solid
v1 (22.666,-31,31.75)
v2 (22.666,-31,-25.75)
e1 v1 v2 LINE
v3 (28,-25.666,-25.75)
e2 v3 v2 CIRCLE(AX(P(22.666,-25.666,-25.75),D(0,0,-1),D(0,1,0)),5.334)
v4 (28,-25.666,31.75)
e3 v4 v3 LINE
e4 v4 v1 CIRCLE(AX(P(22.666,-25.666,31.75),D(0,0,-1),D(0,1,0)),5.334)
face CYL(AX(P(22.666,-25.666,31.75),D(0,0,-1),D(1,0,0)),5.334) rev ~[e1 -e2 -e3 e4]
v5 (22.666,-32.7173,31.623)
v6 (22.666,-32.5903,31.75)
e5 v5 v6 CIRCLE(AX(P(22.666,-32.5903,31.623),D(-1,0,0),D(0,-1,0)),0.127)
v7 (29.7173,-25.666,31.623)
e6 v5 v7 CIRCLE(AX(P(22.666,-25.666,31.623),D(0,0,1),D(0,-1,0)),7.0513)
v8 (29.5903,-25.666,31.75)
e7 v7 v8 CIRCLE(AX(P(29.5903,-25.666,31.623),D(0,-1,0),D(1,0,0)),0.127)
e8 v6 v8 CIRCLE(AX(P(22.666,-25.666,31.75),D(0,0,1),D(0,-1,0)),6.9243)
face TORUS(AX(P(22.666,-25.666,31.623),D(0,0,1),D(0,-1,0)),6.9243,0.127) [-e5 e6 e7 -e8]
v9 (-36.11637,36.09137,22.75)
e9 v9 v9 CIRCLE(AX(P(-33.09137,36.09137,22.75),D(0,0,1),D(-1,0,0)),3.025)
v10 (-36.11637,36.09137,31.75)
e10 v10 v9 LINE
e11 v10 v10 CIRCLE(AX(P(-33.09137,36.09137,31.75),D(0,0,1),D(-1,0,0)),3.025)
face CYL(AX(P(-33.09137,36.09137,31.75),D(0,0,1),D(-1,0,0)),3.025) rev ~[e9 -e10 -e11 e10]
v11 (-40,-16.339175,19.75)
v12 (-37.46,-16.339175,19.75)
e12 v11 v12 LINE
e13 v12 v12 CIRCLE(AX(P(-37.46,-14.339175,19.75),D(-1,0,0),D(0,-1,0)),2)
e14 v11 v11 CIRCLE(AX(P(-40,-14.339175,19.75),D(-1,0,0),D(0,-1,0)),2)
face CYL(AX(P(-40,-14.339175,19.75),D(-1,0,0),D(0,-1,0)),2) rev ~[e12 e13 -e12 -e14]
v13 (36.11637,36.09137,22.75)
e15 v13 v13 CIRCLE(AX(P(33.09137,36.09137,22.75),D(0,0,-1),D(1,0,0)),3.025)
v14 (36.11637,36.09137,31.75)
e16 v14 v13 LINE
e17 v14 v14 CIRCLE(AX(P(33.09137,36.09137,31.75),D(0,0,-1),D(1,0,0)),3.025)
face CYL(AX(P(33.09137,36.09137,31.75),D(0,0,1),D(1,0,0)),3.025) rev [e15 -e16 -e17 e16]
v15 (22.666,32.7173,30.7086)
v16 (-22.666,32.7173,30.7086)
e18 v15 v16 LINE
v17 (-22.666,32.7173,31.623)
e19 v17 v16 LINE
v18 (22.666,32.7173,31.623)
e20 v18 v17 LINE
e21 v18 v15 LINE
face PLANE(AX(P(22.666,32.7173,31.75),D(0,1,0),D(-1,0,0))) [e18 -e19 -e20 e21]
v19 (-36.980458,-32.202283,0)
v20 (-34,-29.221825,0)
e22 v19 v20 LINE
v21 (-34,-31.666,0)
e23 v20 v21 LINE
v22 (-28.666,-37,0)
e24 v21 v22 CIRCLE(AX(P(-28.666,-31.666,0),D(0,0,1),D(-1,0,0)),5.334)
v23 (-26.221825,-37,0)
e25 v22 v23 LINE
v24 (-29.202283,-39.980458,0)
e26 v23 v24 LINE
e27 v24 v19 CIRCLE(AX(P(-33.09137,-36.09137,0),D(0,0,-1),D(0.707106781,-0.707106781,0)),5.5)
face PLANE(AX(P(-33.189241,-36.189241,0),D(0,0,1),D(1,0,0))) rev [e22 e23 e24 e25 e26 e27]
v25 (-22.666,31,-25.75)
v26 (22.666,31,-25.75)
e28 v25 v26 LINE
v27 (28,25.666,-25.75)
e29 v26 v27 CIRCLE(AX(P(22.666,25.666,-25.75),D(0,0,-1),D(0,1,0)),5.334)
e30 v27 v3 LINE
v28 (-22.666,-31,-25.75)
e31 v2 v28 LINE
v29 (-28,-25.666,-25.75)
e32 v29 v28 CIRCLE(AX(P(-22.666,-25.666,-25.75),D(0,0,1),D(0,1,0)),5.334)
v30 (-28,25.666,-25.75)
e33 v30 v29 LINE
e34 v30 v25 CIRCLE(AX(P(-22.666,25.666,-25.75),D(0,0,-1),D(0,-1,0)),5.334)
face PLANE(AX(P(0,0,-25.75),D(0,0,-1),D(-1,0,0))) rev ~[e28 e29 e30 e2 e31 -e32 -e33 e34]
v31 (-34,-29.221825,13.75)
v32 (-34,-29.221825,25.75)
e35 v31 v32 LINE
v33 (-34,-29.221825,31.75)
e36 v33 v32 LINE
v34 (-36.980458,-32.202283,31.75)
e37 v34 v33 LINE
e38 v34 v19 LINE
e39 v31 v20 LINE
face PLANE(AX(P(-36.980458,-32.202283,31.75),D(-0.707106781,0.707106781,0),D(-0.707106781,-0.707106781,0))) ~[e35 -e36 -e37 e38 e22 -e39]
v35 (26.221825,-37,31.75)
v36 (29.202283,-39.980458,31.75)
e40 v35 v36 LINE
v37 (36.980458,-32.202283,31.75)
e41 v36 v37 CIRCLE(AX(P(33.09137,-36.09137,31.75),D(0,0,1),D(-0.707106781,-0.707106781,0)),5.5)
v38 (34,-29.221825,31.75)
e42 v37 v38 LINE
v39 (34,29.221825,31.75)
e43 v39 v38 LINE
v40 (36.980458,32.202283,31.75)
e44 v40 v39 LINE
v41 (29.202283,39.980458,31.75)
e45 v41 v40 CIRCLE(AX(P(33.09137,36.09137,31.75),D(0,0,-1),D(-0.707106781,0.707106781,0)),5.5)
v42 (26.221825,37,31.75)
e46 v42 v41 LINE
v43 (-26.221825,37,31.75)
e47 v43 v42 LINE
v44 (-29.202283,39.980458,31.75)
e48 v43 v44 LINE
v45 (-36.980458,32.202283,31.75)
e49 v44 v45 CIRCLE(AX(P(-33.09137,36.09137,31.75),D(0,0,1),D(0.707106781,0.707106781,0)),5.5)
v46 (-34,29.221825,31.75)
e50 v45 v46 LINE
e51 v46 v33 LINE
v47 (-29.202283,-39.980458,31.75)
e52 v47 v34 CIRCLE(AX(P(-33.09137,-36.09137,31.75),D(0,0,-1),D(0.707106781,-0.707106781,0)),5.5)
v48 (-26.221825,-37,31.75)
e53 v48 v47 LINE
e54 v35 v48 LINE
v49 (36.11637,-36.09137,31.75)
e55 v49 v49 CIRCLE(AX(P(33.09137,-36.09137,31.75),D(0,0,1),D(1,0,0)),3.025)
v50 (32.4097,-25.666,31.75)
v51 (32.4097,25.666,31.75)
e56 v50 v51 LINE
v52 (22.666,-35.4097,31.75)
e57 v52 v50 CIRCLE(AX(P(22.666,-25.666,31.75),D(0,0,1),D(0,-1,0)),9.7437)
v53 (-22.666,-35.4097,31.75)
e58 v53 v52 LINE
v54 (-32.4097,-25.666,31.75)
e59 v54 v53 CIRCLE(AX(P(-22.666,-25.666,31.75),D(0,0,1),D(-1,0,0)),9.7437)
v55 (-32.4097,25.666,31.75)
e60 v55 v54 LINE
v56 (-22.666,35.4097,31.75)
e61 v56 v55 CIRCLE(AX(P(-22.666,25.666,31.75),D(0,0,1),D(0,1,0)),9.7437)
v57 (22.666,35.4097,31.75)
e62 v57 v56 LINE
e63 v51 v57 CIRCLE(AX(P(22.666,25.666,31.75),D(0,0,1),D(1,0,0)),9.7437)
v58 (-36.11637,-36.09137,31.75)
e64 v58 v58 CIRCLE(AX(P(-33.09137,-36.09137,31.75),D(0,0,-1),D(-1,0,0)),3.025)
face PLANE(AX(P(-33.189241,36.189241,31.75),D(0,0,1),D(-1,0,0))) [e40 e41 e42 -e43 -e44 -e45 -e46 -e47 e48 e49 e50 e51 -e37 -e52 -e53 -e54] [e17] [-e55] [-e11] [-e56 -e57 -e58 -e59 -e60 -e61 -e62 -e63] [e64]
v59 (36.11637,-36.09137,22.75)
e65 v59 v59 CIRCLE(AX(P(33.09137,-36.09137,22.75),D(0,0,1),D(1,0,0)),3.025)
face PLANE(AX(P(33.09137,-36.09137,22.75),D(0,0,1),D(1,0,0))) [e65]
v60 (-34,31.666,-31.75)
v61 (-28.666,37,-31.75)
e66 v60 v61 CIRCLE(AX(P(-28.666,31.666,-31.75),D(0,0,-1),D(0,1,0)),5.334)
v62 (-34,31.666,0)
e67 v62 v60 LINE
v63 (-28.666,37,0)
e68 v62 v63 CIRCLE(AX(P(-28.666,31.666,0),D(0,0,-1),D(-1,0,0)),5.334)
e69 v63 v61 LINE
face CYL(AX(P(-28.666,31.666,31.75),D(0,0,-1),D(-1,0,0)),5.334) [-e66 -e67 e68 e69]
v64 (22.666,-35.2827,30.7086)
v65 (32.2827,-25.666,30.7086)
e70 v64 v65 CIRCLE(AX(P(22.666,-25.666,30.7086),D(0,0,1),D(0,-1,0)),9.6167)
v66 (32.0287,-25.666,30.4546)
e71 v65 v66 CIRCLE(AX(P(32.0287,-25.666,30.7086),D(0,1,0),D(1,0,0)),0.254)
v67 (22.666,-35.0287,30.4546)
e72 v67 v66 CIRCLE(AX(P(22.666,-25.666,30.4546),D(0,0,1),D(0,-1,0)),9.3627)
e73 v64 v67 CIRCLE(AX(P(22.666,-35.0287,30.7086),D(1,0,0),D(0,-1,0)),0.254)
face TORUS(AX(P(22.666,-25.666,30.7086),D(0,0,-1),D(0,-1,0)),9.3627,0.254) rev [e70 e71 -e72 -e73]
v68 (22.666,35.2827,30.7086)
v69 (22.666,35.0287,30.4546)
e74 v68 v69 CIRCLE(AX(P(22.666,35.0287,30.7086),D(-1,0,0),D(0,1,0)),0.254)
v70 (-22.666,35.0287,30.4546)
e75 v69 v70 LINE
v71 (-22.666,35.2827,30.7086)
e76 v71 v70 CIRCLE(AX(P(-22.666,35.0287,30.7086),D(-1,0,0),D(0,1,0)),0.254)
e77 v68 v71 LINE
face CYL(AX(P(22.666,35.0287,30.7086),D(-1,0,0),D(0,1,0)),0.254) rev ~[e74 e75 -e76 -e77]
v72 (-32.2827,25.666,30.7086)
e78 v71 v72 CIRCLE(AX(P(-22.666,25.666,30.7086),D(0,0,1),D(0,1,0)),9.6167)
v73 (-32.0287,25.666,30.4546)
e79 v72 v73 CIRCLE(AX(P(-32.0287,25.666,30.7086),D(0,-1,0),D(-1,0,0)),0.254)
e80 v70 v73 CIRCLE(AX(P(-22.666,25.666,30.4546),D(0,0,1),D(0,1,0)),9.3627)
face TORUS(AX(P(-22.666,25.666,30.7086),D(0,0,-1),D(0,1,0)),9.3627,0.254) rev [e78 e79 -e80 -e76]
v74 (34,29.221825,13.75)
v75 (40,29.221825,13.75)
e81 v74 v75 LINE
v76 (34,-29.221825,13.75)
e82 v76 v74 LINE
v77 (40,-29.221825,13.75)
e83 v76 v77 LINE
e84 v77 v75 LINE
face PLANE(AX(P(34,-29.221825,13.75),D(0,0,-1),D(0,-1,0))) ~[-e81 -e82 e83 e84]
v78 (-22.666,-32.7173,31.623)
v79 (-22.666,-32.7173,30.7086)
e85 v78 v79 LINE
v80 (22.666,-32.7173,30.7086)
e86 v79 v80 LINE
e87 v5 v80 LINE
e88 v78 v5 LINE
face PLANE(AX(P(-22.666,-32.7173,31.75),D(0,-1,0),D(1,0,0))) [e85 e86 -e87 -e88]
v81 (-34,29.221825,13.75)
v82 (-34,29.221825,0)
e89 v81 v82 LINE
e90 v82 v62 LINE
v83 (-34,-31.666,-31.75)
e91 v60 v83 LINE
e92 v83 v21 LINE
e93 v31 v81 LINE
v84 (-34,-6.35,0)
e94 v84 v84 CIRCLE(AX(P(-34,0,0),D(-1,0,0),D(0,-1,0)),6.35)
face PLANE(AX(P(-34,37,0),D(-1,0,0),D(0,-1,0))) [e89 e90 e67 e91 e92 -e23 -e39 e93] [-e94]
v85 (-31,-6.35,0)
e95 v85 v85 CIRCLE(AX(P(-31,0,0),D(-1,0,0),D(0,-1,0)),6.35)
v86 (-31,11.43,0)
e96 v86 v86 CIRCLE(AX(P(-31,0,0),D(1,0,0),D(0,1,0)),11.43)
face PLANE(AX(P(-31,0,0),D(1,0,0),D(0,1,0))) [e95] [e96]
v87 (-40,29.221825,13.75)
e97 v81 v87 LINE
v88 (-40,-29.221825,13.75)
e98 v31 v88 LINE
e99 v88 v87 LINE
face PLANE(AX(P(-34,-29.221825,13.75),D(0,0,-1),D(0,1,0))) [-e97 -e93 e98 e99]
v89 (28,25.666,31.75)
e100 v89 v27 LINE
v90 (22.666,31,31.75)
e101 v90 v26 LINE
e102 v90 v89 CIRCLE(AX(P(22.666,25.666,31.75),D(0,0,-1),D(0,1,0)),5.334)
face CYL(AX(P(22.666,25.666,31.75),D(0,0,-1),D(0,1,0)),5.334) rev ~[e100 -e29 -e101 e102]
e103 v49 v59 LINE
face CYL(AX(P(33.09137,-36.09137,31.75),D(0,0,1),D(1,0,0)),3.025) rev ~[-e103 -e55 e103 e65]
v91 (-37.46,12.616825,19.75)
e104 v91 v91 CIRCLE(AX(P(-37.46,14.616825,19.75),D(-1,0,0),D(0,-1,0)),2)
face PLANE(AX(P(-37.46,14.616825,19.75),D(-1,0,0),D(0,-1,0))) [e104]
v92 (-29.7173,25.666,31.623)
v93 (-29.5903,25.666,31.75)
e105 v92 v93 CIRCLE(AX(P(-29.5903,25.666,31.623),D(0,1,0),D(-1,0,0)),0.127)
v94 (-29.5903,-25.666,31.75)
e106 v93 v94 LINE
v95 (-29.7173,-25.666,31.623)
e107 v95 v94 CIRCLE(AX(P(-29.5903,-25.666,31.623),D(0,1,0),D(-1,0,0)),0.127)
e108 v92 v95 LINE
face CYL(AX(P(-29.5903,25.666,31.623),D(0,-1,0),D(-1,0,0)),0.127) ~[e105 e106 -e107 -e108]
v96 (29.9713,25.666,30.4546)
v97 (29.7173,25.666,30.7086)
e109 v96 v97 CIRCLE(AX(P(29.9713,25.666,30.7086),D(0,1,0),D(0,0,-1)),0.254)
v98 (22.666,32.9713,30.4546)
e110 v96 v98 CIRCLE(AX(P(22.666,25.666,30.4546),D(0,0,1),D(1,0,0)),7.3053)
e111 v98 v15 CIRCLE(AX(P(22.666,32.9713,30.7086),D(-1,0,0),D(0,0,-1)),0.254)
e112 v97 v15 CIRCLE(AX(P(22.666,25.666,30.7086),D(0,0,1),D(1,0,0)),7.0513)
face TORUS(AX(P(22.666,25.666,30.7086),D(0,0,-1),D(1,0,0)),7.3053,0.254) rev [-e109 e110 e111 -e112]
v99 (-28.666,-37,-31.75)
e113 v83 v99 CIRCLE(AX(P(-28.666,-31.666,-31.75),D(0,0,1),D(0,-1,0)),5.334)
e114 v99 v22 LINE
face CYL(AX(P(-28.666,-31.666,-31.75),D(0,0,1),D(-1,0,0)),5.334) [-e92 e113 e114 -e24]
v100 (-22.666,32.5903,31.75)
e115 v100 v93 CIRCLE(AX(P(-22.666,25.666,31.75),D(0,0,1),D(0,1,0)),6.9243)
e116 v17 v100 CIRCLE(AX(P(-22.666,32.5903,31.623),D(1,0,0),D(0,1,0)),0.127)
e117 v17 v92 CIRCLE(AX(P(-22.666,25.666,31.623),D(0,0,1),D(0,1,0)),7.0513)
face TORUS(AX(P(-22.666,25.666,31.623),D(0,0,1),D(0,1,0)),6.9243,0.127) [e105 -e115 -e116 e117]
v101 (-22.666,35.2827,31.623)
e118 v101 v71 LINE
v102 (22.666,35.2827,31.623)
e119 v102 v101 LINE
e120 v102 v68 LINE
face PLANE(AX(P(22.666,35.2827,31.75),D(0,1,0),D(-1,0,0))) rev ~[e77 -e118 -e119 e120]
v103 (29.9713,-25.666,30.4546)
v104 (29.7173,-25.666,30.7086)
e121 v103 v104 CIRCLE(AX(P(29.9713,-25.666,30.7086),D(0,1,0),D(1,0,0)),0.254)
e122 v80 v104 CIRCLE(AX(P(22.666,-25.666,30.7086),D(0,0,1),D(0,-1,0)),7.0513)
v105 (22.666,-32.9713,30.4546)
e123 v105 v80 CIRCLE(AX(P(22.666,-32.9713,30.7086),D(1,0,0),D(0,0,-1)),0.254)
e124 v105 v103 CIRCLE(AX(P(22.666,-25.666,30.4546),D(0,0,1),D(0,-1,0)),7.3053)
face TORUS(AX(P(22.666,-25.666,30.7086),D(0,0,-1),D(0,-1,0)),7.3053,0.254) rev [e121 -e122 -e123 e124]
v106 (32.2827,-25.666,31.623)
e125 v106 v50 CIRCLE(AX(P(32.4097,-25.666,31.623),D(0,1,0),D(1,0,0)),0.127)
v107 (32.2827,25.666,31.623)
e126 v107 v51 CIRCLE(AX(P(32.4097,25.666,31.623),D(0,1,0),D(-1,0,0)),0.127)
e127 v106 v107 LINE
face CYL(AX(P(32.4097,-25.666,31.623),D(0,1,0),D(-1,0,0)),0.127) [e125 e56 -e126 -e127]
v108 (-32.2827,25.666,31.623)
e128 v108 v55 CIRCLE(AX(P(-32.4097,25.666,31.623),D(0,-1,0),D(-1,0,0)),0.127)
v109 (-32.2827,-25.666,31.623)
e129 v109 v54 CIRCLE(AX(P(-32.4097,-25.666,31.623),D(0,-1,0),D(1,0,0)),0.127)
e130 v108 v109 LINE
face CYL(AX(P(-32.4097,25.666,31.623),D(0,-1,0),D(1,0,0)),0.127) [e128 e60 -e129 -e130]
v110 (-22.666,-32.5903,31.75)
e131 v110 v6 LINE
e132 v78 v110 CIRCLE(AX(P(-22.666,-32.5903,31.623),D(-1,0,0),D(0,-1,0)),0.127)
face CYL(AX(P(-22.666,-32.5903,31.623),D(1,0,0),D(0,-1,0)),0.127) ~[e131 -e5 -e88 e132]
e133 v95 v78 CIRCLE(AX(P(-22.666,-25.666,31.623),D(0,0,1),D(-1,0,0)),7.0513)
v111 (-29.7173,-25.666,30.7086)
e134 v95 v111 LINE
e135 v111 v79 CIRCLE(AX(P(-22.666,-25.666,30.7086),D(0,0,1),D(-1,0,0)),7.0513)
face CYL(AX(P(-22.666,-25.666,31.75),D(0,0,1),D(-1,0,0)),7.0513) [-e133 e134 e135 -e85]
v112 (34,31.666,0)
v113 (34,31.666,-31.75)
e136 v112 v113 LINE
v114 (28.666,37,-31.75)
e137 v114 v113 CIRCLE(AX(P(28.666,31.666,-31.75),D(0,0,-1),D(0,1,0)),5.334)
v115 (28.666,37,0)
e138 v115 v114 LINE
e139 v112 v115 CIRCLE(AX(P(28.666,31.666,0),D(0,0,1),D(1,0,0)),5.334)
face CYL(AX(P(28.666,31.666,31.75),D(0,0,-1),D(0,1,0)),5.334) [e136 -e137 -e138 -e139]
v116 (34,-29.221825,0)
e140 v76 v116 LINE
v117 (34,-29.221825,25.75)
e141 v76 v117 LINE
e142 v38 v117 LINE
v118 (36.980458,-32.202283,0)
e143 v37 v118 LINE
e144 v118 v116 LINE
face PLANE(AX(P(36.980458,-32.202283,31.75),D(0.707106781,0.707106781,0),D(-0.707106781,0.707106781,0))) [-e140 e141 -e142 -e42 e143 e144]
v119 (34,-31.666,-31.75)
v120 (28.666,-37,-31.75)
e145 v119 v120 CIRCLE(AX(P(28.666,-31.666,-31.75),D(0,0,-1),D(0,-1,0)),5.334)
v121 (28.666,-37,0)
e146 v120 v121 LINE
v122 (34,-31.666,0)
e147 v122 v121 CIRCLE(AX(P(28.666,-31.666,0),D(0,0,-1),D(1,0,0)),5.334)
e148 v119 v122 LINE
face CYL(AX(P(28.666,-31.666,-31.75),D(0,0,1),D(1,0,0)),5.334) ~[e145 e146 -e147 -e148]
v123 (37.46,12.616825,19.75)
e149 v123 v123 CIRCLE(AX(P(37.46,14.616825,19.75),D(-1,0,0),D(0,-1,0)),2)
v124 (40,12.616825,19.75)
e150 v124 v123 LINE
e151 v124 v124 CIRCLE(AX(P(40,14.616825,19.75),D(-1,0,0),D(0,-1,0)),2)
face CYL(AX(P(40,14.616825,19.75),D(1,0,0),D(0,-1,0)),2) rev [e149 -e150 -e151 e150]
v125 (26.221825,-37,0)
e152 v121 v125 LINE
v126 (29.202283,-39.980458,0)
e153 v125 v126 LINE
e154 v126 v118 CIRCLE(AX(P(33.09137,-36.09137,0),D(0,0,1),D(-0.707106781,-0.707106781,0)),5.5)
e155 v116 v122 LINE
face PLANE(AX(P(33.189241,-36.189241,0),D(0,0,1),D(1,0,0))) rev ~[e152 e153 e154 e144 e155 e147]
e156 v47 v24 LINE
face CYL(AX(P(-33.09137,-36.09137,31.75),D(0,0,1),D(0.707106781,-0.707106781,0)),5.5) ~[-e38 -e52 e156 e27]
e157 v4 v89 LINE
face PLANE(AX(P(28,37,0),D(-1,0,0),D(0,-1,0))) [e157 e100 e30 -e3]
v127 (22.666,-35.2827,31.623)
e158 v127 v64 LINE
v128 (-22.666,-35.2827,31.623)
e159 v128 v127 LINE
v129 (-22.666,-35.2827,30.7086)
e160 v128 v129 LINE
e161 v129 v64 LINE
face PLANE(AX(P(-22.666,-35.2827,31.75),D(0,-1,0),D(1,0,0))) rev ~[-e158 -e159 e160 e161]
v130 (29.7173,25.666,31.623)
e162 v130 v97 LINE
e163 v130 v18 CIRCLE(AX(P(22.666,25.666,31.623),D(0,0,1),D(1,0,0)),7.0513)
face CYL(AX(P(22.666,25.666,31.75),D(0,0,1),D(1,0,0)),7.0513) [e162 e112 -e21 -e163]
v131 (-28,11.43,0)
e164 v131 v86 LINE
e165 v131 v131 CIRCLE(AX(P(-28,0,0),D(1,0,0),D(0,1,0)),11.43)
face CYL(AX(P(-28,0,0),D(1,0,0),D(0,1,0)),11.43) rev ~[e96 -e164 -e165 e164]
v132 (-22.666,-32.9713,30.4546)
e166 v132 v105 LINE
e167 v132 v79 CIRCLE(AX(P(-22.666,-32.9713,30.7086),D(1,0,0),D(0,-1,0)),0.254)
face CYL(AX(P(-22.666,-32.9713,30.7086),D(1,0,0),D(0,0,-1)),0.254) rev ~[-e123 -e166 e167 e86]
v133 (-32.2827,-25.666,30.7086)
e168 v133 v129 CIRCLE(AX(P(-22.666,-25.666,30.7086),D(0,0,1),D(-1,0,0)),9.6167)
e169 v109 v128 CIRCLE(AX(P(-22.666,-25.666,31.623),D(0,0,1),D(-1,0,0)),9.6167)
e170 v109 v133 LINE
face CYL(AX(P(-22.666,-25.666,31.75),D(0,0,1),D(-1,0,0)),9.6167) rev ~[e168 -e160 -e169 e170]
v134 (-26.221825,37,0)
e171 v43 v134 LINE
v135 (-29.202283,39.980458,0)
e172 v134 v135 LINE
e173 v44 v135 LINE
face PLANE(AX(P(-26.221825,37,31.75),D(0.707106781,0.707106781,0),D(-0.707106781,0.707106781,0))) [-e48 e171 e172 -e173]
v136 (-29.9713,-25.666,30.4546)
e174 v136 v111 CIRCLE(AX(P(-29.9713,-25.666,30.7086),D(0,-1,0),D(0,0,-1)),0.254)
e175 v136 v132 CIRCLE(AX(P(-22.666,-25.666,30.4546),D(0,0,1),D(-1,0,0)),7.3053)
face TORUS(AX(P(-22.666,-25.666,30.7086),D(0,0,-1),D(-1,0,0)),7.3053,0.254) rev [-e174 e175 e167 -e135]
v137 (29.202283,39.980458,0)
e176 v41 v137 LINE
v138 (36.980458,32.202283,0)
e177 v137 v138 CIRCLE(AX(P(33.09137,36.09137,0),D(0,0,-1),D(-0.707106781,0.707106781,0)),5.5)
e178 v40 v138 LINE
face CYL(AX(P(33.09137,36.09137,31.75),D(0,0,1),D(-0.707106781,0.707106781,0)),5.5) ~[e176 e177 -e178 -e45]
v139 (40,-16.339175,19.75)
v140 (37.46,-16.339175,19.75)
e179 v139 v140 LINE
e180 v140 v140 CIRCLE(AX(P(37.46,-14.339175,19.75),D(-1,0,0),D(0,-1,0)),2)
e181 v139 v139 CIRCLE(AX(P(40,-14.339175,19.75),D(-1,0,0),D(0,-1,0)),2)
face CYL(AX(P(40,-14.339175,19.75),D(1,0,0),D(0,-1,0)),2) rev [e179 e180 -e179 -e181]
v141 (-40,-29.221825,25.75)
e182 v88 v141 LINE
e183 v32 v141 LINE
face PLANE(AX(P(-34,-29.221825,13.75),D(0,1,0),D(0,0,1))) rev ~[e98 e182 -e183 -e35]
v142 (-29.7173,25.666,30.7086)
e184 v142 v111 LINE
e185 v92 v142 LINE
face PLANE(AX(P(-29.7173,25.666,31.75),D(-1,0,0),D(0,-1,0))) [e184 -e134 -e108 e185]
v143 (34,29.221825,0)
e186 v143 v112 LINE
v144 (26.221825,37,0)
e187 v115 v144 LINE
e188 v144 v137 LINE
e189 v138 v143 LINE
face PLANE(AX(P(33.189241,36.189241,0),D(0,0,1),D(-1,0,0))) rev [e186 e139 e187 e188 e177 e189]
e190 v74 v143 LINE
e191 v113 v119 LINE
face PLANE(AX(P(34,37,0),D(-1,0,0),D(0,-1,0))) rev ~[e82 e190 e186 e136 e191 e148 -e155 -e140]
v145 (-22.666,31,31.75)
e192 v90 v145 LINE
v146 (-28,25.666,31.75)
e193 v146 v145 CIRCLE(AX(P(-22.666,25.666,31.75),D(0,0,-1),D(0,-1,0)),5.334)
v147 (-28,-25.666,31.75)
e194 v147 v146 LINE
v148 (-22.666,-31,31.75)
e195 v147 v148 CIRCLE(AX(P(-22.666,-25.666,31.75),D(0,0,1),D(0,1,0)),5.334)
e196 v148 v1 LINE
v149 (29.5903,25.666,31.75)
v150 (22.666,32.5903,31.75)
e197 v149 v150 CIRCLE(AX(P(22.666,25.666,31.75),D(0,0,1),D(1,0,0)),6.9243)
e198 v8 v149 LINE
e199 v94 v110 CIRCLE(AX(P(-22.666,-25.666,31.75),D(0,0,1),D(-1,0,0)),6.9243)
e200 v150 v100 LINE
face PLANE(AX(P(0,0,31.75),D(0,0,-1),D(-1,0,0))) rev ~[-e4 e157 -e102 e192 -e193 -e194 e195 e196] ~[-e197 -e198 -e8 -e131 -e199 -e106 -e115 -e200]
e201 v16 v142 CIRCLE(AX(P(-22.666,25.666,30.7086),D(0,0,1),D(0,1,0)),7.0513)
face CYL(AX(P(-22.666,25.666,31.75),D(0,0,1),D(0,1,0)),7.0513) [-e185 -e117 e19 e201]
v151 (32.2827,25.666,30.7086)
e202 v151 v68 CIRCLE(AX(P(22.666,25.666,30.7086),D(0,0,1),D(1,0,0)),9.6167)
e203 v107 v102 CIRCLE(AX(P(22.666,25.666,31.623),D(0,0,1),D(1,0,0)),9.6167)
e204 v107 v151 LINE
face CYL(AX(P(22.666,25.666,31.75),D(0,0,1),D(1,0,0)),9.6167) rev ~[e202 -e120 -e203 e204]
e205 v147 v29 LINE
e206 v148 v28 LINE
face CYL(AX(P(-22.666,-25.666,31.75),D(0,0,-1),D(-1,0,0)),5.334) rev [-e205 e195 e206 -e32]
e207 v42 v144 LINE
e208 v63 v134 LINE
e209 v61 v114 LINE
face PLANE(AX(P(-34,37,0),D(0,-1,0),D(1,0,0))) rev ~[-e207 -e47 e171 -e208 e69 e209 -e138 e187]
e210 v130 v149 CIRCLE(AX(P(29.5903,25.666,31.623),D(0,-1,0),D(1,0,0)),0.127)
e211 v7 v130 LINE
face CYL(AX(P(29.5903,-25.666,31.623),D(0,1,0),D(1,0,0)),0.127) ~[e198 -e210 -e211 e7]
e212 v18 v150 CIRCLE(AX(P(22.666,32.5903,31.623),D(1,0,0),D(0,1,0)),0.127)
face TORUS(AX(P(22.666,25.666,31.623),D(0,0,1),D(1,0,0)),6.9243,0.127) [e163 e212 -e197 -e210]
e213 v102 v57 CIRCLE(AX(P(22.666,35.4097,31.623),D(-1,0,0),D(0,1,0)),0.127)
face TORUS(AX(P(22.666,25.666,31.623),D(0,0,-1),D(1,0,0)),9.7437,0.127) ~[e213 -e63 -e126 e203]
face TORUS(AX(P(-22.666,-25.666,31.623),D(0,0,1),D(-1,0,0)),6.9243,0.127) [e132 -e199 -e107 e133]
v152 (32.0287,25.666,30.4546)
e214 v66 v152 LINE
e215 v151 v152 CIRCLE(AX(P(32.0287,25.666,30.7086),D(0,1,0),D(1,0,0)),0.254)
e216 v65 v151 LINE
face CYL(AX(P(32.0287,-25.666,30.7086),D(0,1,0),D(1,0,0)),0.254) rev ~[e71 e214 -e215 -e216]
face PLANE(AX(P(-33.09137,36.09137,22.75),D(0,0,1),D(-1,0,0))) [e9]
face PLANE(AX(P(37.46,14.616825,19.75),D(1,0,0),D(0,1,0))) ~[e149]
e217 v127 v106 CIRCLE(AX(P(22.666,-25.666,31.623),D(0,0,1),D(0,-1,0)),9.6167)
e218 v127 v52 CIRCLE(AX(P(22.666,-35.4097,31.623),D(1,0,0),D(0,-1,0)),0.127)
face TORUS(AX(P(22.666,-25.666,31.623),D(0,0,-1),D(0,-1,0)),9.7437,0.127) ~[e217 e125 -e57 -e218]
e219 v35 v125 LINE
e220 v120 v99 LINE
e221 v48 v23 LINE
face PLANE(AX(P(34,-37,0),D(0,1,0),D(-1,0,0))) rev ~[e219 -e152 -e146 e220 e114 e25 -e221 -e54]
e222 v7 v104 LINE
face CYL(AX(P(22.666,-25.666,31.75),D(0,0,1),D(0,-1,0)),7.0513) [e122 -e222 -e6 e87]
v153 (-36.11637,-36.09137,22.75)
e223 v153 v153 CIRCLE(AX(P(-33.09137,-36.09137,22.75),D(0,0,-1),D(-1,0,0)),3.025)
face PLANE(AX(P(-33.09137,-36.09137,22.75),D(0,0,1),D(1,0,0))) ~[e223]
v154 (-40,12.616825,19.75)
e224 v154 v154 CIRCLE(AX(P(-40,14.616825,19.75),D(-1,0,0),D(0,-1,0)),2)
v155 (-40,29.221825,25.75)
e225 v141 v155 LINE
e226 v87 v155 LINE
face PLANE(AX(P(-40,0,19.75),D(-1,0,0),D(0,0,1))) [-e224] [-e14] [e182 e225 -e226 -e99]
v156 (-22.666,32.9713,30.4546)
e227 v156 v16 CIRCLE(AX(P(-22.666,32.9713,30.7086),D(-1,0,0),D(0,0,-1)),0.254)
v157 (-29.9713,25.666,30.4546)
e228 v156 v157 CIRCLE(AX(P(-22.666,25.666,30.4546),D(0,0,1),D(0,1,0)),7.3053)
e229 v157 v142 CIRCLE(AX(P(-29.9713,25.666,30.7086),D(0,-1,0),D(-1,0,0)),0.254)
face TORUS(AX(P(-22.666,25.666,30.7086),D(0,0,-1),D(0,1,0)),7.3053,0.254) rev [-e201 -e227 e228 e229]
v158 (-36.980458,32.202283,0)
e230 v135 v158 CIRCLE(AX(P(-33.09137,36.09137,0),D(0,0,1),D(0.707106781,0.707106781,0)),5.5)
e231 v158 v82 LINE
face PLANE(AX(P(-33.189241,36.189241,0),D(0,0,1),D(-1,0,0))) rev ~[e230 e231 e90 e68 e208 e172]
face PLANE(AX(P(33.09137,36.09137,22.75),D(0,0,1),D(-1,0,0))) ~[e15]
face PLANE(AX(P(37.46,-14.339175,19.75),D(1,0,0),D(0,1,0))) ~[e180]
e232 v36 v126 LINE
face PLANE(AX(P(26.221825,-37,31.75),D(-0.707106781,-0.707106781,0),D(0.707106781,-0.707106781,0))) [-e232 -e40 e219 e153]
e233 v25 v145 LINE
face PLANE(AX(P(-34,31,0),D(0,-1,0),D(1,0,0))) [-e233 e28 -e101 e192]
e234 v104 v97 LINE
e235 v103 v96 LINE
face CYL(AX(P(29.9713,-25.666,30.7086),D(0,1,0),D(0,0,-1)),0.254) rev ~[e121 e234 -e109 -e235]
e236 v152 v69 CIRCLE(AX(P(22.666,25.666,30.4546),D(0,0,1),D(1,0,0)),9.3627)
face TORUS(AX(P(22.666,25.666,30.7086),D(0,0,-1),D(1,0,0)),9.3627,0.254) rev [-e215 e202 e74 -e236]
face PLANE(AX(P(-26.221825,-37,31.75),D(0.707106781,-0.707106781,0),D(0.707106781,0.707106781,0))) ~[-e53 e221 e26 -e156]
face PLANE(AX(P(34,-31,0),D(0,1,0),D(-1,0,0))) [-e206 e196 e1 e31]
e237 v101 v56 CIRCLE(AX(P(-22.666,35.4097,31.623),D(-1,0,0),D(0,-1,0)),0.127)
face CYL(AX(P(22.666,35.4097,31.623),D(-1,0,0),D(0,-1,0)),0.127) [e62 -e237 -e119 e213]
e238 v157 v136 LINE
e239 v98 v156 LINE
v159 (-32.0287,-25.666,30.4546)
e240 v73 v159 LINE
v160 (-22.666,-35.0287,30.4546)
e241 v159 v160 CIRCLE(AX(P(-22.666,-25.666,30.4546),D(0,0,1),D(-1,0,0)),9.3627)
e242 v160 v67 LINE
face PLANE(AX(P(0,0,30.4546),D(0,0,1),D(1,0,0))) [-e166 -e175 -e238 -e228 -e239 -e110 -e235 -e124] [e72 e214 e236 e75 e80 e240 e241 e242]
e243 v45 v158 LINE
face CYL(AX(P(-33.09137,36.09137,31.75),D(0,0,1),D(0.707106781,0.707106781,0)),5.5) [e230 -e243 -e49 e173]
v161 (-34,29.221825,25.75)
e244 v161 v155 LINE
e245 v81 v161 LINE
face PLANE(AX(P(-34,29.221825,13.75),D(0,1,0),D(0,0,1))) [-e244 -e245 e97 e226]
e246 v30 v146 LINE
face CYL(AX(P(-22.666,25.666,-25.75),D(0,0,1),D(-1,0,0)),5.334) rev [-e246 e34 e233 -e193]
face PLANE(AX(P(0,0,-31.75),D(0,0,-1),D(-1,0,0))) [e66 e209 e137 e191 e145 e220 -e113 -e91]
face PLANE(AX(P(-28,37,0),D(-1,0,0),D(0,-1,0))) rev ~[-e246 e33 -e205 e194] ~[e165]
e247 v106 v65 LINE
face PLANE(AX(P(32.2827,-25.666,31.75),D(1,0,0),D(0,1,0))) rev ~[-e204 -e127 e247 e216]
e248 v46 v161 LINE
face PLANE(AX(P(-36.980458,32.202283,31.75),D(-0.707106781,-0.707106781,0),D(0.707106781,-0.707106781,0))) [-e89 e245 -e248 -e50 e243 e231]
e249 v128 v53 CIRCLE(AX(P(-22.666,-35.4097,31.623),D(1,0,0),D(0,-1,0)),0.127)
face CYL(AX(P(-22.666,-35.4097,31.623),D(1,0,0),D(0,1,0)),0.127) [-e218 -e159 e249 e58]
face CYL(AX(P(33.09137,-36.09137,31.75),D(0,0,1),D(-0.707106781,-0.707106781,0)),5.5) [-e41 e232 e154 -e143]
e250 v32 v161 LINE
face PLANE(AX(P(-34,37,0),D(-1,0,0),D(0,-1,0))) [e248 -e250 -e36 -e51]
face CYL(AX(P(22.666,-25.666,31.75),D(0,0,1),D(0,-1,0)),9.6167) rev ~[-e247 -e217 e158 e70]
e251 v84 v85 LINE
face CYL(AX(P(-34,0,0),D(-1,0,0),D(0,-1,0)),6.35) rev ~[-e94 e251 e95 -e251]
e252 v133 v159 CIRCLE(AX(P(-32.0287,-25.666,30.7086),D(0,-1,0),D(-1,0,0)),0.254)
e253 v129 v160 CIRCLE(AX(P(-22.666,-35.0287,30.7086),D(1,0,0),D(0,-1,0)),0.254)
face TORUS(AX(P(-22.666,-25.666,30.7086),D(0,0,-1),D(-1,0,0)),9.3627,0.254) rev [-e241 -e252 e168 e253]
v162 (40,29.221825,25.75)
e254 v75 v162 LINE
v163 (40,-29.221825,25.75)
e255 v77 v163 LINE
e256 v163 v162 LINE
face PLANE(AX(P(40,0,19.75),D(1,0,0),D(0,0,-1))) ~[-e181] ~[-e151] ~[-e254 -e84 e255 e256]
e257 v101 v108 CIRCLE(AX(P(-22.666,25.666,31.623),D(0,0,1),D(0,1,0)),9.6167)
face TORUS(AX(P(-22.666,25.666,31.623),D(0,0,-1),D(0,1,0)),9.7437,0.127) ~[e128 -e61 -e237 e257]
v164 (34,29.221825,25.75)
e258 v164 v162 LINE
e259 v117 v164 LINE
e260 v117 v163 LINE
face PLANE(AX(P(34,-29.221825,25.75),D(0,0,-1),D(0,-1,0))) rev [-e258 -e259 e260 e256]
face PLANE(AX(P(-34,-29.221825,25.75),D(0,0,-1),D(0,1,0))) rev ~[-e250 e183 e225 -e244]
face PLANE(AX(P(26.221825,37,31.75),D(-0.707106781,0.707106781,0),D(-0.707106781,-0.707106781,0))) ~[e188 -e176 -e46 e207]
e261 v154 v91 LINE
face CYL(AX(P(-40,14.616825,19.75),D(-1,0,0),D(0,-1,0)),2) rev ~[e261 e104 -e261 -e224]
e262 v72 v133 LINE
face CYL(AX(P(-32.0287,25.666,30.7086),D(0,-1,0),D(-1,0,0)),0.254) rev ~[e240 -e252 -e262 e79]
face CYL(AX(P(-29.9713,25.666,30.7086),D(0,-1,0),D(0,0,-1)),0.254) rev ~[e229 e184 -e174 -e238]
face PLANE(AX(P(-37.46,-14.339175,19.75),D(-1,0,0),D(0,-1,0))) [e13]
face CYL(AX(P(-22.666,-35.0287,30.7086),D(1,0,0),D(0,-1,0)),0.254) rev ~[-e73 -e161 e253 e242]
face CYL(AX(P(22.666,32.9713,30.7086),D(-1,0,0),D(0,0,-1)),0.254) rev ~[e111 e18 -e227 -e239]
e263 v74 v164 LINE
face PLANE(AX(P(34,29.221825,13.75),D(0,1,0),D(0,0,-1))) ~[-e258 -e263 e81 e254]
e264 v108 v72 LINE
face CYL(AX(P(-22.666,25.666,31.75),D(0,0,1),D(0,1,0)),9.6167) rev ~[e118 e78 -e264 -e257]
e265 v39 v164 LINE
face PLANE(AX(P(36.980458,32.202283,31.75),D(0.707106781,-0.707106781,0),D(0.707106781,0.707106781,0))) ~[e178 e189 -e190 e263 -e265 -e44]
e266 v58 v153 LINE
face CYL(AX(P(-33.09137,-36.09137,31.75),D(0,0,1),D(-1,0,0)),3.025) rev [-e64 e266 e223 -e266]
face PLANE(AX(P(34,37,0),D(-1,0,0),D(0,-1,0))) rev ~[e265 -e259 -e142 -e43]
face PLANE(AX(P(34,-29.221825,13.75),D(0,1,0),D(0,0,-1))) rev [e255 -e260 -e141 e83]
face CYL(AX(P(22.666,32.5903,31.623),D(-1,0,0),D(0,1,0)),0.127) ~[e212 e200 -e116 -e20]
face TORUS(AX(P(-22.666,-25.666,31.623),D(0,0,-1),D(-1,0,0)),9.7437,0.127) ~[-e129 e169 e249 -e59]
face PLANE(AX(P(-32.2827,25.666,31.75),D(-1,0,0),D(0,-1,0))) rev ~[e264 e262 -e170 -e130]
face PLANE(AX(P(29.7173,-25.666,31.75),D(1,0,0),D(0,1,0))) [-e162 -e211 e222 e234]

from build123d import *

# Parameters (mm, degrees)
BOSS_EXTRUDE1_DEPTH     = 31.75
SHELL1_T                = -6
FILLET1_R               = 5.334
CUT_EXTRUDE1_DEPTH      = 1.2954
FILLET2_R               = 0.254
FILLET3_R               = 0.127
BOSS_EXTRUDE2_DEPTH     = 31.75
SKETCH4_R               = 3.025
CUT_EXTRUDE2_DEPTH      = 9
MIRROR2_COPY_1_DEPTH    = 31.75
MIRROR2_COPY_2_SKETCH_R = 3.025
MIRROR2_COPY_2_DEPTH    = 9
SKETCH8_W               = 12
SKETCH8_H               = 58.443650814
BOSS_EXTRUDE3_DEPTH     = 6
SKETCH12_R              = 2
CUT_EXTRUDE6_DEPTH      = 2.54
SKETCH13_R              = 6.35
CUT_EXTRUDE10_DEPTH     = 6
SKETCH16_R              = 11.43
CUT_EXTRUDE14_DEPTH     = 3


with BuildPart() as part:
    # Sketch1 → Boss-Extrude1 (new, symmetric)
    with BuildSketch(Plane.XY):
        Polygon((-34, -37), (-34, -16.68), (-34, 16.68), (-34, 37), (34, 37), (34, -37), align=None)
    extrude(amount=BOSS_EXTRUDE1_DEPTH, both=True)

    # Shell1
    shell1_openings = [part.faces().sort_by_distance(p)[0] for p in [
        (0, 0, 31.75),
    ]]
    offset(amount=SHELL1_T, openings=shell1_openings, kind=Kind.INTERSECTION)

    # Fillet1
    fillet1_edges = [part.edges().sort_by_distance(p)[0] for p in [
        (-34, -37, 0),
        (-34, 37, 0),
        (34, 37, 0),
        (34, -37, 0),
        (-28, -31, 3),
        (28, -31, 3),
        (28, 31, 3),
        (-28, 31, 3),
    ]]
    fillet(fillet1_edges, radius=FILLET1_R)

    # Sketch2 → Cut-Extrude1 (cut)
    with BuildSketch(Plane.XY.offset(31.75)):
        with BuildLine():
            Line((32.2827, -25.666), (32.2827, 25.666))
            ThreePointArc((32.2827, 25.666), (29.466033783, 32.466033783), (22.666, 35.2827))
            Line((22.666, 35.2827), (-22.666, 35.2827))
            ThreePointArc((-22.666, 35.2827), (-29.466033783, 32.466033783), (-32.2827, 25.666))
            Line((-32.2827, 25.666), (-32.2827, -25.666))
            ThreePointArc((-32.2827, -25.666), (-29.466033783, -32.466033783), (-22.666, -35.2827))
            Line((-22.666, -35.2827), (22.666, -35.2827))
            ThreePointArc((22.666, -35.2827), (29.466033783, -32.466033783), (32.2827, -25.666))
        make_face()
        with BuildLine():
            Line((-29.7173, 25.666), (-29.7173, -25.666))
            ThreePointArc((-29.7173, -25.666), (-27.652022046, -30.652022046), (-22.666, -32.7173))
            Line((-22.666, -32.7173), (22.666, -32.7173))
            ThreePointArc((22.666, -32.7173), (27.652022046, -30.652022046), (29.7173, -25.666))
            Line((29.7173, -25.666), (29.7173, 25.666))
            ThreePointArc((29.7173, 25.666), (27.652022046, 30.652022046), (22.666, 32.7173))
            Line((22.666, 32.7173), (-22.666, 32.7173))
            ThreePointArc((-22.666, 32.7173), (-27.652022046, 30.652022046), (-29.7173, 25.666))
        make_face(mode=Mode.SUBTRACT)
    extrude(amount=-CUT_EXTRUDE1_DEPTH, mode=Mode.SUBTRACT)

    # Fillet2
    fillet2_edges = [part.edges().sort_by_distance(p)[0] for p in [
        (29.466033783, -32.466033783, 30.4546),
        (0, -35.2827, 30.4546),
        (-29.466033783, -32.466033783, 30.4546),
        (-32.2827, 0, 30.4546),
        (-29.466033783, 32.466033783, 30.4546),
        (0, 35.2827, 30.4546),
        (29.466033783, 32.466033783, 30.4546),
        (32.2827, 0, 30.4546),
        (0, 32.7173, 30.4546),
        (-27.652022046, 30.652022046, 30.4546),
        (-29.7173, 0, 30.4546),
        (-27.652022046, -30.652022046, 30.4546),
        (0, -32.7173, 30.4546),
        (27.652022046, -30.652022046, 30.4546),
        (29.7173, 0, 30.4546),
        (27.652022046, 30.652022046, 30.4546),
    ]]
    fillet(fillet2_edges, radius=FILLET2_R)

    # Fillet3
    fillet3_edges = [part.edges().sort_by_distance(p)[0] for p in [
        (29.466033783, -32.466033783, 31.75),
        (32.2827, 0, 31.75),
        (29.466033783, 32.466033783, 31.75),
        (0, 35.2827, 31.75),
        (-29.466033783, 32.466033783, 31.75),
        (-32.2827, 0, 31.75),
        (-29.466033783, -32.466033783, 31.75),
        (0, -35.2827, 31.75),
        (-27.652022046, 30.652022046, 31.75),
        (0, 32.7173, 31.75),
        (27.652022046, 30.652022046, 31.75),
        (29.7173, 0, 31.75),
        (27.652022046, -30.652022046, 31.75),
        (0, -32.7173, 31.75),
        (-27.652022046, -30.652022046, 31.75),
        (-29.7173, 0, 31.75),
    ]]
    fillet(fillet3_edges, radius=FILLET3_R)

    # Sketch3 → Boss-Extrude2 (add)
    with BuildSketch(Plane.XY.offset(31.75)):
        with BuildLine():
            Line((34, -29.221825407), (34, -31.666))
            ThreePointArc((34, -31.666), (32.437707571, -35.437707571), (28.666, -37))
            Line((28.666, -37), (26.221825407, -37))
            Line((26.221825407, -37), (29.202282953, -39.980457546))
            ThreePointArc((29.202282953, -39.980457546), (36.980457546, -39.980457546), (36.980457546, -32.202282953))
            Line((36.980457546, -32.202282953), (34, -29.221825407))
        make_face()
    boss_extrude2 = extrude(amount=-BOSS_EXTRUDE2_DEPTH)

    # Sketch4 → Cut-Extrude2 (cut)
    with BuildSketch(Plane.XY.offset(31.75)):
        with Locations((33.09137025, -36.09137025)):
            Circle(SKETCH4_R)
    cut_extrude2 = extrude(amount=-CUT_EXTRUDE2_DEPTH, mode=Mode.SUBTRACT)

    # Mirror1: Boss-Extrude2, Cut-Extrude2 across plane
    add(boss_extrude2.mirror(Plane.ZX))
    add(cut_extrude2.mirror(Plane.ZX), mode=Mode.SUBTRACT)

    # Mirror2: Boss-Extrude2, Cut-Extrude2 across plane
    add(boss_extrude2.mirror(Plane(origin=(0, 0, 0), x_dir=(0, 0, 1), z_dir=(1, 0, 0))))
    add(cut_extrude2.mirror(Plane(origin=(0, 0, 0), x_dir=(0, 0, 1), z_dir=(1, 0, 0))), mode=Mode.SUBTRACT)

    # Mirror2 copy 1 sketch → Mirror2 copy 1 (add)
    with BuildSketch(Plane(origin=(0, 0, 31.75), x_dir=(-1, 0, 0), z_dir=(0, 0, 1))):
        with BuildLine():
            Line((34, -29.221825407), (34, -31.666))
            ThreePointArc((34, -31.666), (32.437707571, -35.437707571), (28.666, -37))
            Line((28.666, -37), (26.221825407, -37))
            Line((26.221825407, -37), (29.202282953, -39.980457546))
            ThreePointArc((29.202282953, -39.980457546), (36.980457546, -39.980457546), (36.980457546, -32.202282953))
            Line((36.980457546, -32.202282953), (34, -29.221825407))
        make_face()
    extrude(amount=-MIRROR2_COPY_1_DEPTH)

    # Mirror2 copy 2 sketch → Mirror2 copy 2 (cut)
    with BuildSketch(Plane(origin=(0, 0, 31.75), x_dir=(-1, 0, 0), z_dir=(0, 0, 1))):
        with Locations((33.09137025, -36.09137025)):
            Circle(MIRROR2_COPY_2_SKETCH_R)
    extrude(amount=-MIRROR2_COPY_2_DEPTH, mode=Mode.SUBTRACT)

    # Sketch8 → Boss-Extrude3 (add)
    with BuildSketch(Plane.ZY.offset(34)):
        with Locations((19.75, 0)):
            Rectangle(SKETCH8_W, SKETCH8_H)
    boss_extrude3 = extrude(amount=BOSS_EXTRUDE3_DEPTH)

    # Sketch12 → Cut-Extrude6 (cut)
    with BuildSketch(Plane.ZY.offset(40)):
        with Locations(Location((19.75, 14.616825407, 0), (0, 0, 270))):
            Circle(SKETCH12_R)
        with Locations(Location((19.75, -14.339174593, 0), (0, 0, 270))):
            Circle(SKETCH12_R)
    cut_extrude6 = extrude(amount=-CUT_EXTRUDE6_DEPTH, mode=Mode.SUBTRACT)

    # Sketch13 → Cut-Extrude10 (cut)
    with BuildSketch(Plane.ZY.offset(34)):
        with Locations(Location((0, 0, 0), (0, 0, 270))):
            Circle(SKETCH13_R)
    extrude(amount=-CUT_EXTRUDE10_DEPTH, mode=Mode.SUBTRACT)

    # Sketch16 → Cut-Extrude14 (cut)
    with BuildSketch(Plane(origin=(-28, 0, 0), x_dir=(0, 0, -1), z_dir=(1, 0, 0))):
        with Locations(Location((0, 0, 0), (0, 0, 90))):
            Circle(SKETCH16_R)
    extrude(amount=-CUT_EXTRUDE14_DEPTH, mode=Mode.SUBTRACT)

    # Mirror5: Boss-Extrude3 across plane
    add(boss_extrude3.mirror(Plane(origin=(0, 0, 0), x_dir=(0, 0, 1), z_dir=(1, 0, 0))))

    # Mirror6: Cut-Extrude6 across plane
    add(cut_extrude6.mirror(Plane(origin=(0, 0, 0), x_dir=(0, 0, 1), z_dir=(1, 0, 0))), mode=Mode.SUBTRACT)


solid = part.part
